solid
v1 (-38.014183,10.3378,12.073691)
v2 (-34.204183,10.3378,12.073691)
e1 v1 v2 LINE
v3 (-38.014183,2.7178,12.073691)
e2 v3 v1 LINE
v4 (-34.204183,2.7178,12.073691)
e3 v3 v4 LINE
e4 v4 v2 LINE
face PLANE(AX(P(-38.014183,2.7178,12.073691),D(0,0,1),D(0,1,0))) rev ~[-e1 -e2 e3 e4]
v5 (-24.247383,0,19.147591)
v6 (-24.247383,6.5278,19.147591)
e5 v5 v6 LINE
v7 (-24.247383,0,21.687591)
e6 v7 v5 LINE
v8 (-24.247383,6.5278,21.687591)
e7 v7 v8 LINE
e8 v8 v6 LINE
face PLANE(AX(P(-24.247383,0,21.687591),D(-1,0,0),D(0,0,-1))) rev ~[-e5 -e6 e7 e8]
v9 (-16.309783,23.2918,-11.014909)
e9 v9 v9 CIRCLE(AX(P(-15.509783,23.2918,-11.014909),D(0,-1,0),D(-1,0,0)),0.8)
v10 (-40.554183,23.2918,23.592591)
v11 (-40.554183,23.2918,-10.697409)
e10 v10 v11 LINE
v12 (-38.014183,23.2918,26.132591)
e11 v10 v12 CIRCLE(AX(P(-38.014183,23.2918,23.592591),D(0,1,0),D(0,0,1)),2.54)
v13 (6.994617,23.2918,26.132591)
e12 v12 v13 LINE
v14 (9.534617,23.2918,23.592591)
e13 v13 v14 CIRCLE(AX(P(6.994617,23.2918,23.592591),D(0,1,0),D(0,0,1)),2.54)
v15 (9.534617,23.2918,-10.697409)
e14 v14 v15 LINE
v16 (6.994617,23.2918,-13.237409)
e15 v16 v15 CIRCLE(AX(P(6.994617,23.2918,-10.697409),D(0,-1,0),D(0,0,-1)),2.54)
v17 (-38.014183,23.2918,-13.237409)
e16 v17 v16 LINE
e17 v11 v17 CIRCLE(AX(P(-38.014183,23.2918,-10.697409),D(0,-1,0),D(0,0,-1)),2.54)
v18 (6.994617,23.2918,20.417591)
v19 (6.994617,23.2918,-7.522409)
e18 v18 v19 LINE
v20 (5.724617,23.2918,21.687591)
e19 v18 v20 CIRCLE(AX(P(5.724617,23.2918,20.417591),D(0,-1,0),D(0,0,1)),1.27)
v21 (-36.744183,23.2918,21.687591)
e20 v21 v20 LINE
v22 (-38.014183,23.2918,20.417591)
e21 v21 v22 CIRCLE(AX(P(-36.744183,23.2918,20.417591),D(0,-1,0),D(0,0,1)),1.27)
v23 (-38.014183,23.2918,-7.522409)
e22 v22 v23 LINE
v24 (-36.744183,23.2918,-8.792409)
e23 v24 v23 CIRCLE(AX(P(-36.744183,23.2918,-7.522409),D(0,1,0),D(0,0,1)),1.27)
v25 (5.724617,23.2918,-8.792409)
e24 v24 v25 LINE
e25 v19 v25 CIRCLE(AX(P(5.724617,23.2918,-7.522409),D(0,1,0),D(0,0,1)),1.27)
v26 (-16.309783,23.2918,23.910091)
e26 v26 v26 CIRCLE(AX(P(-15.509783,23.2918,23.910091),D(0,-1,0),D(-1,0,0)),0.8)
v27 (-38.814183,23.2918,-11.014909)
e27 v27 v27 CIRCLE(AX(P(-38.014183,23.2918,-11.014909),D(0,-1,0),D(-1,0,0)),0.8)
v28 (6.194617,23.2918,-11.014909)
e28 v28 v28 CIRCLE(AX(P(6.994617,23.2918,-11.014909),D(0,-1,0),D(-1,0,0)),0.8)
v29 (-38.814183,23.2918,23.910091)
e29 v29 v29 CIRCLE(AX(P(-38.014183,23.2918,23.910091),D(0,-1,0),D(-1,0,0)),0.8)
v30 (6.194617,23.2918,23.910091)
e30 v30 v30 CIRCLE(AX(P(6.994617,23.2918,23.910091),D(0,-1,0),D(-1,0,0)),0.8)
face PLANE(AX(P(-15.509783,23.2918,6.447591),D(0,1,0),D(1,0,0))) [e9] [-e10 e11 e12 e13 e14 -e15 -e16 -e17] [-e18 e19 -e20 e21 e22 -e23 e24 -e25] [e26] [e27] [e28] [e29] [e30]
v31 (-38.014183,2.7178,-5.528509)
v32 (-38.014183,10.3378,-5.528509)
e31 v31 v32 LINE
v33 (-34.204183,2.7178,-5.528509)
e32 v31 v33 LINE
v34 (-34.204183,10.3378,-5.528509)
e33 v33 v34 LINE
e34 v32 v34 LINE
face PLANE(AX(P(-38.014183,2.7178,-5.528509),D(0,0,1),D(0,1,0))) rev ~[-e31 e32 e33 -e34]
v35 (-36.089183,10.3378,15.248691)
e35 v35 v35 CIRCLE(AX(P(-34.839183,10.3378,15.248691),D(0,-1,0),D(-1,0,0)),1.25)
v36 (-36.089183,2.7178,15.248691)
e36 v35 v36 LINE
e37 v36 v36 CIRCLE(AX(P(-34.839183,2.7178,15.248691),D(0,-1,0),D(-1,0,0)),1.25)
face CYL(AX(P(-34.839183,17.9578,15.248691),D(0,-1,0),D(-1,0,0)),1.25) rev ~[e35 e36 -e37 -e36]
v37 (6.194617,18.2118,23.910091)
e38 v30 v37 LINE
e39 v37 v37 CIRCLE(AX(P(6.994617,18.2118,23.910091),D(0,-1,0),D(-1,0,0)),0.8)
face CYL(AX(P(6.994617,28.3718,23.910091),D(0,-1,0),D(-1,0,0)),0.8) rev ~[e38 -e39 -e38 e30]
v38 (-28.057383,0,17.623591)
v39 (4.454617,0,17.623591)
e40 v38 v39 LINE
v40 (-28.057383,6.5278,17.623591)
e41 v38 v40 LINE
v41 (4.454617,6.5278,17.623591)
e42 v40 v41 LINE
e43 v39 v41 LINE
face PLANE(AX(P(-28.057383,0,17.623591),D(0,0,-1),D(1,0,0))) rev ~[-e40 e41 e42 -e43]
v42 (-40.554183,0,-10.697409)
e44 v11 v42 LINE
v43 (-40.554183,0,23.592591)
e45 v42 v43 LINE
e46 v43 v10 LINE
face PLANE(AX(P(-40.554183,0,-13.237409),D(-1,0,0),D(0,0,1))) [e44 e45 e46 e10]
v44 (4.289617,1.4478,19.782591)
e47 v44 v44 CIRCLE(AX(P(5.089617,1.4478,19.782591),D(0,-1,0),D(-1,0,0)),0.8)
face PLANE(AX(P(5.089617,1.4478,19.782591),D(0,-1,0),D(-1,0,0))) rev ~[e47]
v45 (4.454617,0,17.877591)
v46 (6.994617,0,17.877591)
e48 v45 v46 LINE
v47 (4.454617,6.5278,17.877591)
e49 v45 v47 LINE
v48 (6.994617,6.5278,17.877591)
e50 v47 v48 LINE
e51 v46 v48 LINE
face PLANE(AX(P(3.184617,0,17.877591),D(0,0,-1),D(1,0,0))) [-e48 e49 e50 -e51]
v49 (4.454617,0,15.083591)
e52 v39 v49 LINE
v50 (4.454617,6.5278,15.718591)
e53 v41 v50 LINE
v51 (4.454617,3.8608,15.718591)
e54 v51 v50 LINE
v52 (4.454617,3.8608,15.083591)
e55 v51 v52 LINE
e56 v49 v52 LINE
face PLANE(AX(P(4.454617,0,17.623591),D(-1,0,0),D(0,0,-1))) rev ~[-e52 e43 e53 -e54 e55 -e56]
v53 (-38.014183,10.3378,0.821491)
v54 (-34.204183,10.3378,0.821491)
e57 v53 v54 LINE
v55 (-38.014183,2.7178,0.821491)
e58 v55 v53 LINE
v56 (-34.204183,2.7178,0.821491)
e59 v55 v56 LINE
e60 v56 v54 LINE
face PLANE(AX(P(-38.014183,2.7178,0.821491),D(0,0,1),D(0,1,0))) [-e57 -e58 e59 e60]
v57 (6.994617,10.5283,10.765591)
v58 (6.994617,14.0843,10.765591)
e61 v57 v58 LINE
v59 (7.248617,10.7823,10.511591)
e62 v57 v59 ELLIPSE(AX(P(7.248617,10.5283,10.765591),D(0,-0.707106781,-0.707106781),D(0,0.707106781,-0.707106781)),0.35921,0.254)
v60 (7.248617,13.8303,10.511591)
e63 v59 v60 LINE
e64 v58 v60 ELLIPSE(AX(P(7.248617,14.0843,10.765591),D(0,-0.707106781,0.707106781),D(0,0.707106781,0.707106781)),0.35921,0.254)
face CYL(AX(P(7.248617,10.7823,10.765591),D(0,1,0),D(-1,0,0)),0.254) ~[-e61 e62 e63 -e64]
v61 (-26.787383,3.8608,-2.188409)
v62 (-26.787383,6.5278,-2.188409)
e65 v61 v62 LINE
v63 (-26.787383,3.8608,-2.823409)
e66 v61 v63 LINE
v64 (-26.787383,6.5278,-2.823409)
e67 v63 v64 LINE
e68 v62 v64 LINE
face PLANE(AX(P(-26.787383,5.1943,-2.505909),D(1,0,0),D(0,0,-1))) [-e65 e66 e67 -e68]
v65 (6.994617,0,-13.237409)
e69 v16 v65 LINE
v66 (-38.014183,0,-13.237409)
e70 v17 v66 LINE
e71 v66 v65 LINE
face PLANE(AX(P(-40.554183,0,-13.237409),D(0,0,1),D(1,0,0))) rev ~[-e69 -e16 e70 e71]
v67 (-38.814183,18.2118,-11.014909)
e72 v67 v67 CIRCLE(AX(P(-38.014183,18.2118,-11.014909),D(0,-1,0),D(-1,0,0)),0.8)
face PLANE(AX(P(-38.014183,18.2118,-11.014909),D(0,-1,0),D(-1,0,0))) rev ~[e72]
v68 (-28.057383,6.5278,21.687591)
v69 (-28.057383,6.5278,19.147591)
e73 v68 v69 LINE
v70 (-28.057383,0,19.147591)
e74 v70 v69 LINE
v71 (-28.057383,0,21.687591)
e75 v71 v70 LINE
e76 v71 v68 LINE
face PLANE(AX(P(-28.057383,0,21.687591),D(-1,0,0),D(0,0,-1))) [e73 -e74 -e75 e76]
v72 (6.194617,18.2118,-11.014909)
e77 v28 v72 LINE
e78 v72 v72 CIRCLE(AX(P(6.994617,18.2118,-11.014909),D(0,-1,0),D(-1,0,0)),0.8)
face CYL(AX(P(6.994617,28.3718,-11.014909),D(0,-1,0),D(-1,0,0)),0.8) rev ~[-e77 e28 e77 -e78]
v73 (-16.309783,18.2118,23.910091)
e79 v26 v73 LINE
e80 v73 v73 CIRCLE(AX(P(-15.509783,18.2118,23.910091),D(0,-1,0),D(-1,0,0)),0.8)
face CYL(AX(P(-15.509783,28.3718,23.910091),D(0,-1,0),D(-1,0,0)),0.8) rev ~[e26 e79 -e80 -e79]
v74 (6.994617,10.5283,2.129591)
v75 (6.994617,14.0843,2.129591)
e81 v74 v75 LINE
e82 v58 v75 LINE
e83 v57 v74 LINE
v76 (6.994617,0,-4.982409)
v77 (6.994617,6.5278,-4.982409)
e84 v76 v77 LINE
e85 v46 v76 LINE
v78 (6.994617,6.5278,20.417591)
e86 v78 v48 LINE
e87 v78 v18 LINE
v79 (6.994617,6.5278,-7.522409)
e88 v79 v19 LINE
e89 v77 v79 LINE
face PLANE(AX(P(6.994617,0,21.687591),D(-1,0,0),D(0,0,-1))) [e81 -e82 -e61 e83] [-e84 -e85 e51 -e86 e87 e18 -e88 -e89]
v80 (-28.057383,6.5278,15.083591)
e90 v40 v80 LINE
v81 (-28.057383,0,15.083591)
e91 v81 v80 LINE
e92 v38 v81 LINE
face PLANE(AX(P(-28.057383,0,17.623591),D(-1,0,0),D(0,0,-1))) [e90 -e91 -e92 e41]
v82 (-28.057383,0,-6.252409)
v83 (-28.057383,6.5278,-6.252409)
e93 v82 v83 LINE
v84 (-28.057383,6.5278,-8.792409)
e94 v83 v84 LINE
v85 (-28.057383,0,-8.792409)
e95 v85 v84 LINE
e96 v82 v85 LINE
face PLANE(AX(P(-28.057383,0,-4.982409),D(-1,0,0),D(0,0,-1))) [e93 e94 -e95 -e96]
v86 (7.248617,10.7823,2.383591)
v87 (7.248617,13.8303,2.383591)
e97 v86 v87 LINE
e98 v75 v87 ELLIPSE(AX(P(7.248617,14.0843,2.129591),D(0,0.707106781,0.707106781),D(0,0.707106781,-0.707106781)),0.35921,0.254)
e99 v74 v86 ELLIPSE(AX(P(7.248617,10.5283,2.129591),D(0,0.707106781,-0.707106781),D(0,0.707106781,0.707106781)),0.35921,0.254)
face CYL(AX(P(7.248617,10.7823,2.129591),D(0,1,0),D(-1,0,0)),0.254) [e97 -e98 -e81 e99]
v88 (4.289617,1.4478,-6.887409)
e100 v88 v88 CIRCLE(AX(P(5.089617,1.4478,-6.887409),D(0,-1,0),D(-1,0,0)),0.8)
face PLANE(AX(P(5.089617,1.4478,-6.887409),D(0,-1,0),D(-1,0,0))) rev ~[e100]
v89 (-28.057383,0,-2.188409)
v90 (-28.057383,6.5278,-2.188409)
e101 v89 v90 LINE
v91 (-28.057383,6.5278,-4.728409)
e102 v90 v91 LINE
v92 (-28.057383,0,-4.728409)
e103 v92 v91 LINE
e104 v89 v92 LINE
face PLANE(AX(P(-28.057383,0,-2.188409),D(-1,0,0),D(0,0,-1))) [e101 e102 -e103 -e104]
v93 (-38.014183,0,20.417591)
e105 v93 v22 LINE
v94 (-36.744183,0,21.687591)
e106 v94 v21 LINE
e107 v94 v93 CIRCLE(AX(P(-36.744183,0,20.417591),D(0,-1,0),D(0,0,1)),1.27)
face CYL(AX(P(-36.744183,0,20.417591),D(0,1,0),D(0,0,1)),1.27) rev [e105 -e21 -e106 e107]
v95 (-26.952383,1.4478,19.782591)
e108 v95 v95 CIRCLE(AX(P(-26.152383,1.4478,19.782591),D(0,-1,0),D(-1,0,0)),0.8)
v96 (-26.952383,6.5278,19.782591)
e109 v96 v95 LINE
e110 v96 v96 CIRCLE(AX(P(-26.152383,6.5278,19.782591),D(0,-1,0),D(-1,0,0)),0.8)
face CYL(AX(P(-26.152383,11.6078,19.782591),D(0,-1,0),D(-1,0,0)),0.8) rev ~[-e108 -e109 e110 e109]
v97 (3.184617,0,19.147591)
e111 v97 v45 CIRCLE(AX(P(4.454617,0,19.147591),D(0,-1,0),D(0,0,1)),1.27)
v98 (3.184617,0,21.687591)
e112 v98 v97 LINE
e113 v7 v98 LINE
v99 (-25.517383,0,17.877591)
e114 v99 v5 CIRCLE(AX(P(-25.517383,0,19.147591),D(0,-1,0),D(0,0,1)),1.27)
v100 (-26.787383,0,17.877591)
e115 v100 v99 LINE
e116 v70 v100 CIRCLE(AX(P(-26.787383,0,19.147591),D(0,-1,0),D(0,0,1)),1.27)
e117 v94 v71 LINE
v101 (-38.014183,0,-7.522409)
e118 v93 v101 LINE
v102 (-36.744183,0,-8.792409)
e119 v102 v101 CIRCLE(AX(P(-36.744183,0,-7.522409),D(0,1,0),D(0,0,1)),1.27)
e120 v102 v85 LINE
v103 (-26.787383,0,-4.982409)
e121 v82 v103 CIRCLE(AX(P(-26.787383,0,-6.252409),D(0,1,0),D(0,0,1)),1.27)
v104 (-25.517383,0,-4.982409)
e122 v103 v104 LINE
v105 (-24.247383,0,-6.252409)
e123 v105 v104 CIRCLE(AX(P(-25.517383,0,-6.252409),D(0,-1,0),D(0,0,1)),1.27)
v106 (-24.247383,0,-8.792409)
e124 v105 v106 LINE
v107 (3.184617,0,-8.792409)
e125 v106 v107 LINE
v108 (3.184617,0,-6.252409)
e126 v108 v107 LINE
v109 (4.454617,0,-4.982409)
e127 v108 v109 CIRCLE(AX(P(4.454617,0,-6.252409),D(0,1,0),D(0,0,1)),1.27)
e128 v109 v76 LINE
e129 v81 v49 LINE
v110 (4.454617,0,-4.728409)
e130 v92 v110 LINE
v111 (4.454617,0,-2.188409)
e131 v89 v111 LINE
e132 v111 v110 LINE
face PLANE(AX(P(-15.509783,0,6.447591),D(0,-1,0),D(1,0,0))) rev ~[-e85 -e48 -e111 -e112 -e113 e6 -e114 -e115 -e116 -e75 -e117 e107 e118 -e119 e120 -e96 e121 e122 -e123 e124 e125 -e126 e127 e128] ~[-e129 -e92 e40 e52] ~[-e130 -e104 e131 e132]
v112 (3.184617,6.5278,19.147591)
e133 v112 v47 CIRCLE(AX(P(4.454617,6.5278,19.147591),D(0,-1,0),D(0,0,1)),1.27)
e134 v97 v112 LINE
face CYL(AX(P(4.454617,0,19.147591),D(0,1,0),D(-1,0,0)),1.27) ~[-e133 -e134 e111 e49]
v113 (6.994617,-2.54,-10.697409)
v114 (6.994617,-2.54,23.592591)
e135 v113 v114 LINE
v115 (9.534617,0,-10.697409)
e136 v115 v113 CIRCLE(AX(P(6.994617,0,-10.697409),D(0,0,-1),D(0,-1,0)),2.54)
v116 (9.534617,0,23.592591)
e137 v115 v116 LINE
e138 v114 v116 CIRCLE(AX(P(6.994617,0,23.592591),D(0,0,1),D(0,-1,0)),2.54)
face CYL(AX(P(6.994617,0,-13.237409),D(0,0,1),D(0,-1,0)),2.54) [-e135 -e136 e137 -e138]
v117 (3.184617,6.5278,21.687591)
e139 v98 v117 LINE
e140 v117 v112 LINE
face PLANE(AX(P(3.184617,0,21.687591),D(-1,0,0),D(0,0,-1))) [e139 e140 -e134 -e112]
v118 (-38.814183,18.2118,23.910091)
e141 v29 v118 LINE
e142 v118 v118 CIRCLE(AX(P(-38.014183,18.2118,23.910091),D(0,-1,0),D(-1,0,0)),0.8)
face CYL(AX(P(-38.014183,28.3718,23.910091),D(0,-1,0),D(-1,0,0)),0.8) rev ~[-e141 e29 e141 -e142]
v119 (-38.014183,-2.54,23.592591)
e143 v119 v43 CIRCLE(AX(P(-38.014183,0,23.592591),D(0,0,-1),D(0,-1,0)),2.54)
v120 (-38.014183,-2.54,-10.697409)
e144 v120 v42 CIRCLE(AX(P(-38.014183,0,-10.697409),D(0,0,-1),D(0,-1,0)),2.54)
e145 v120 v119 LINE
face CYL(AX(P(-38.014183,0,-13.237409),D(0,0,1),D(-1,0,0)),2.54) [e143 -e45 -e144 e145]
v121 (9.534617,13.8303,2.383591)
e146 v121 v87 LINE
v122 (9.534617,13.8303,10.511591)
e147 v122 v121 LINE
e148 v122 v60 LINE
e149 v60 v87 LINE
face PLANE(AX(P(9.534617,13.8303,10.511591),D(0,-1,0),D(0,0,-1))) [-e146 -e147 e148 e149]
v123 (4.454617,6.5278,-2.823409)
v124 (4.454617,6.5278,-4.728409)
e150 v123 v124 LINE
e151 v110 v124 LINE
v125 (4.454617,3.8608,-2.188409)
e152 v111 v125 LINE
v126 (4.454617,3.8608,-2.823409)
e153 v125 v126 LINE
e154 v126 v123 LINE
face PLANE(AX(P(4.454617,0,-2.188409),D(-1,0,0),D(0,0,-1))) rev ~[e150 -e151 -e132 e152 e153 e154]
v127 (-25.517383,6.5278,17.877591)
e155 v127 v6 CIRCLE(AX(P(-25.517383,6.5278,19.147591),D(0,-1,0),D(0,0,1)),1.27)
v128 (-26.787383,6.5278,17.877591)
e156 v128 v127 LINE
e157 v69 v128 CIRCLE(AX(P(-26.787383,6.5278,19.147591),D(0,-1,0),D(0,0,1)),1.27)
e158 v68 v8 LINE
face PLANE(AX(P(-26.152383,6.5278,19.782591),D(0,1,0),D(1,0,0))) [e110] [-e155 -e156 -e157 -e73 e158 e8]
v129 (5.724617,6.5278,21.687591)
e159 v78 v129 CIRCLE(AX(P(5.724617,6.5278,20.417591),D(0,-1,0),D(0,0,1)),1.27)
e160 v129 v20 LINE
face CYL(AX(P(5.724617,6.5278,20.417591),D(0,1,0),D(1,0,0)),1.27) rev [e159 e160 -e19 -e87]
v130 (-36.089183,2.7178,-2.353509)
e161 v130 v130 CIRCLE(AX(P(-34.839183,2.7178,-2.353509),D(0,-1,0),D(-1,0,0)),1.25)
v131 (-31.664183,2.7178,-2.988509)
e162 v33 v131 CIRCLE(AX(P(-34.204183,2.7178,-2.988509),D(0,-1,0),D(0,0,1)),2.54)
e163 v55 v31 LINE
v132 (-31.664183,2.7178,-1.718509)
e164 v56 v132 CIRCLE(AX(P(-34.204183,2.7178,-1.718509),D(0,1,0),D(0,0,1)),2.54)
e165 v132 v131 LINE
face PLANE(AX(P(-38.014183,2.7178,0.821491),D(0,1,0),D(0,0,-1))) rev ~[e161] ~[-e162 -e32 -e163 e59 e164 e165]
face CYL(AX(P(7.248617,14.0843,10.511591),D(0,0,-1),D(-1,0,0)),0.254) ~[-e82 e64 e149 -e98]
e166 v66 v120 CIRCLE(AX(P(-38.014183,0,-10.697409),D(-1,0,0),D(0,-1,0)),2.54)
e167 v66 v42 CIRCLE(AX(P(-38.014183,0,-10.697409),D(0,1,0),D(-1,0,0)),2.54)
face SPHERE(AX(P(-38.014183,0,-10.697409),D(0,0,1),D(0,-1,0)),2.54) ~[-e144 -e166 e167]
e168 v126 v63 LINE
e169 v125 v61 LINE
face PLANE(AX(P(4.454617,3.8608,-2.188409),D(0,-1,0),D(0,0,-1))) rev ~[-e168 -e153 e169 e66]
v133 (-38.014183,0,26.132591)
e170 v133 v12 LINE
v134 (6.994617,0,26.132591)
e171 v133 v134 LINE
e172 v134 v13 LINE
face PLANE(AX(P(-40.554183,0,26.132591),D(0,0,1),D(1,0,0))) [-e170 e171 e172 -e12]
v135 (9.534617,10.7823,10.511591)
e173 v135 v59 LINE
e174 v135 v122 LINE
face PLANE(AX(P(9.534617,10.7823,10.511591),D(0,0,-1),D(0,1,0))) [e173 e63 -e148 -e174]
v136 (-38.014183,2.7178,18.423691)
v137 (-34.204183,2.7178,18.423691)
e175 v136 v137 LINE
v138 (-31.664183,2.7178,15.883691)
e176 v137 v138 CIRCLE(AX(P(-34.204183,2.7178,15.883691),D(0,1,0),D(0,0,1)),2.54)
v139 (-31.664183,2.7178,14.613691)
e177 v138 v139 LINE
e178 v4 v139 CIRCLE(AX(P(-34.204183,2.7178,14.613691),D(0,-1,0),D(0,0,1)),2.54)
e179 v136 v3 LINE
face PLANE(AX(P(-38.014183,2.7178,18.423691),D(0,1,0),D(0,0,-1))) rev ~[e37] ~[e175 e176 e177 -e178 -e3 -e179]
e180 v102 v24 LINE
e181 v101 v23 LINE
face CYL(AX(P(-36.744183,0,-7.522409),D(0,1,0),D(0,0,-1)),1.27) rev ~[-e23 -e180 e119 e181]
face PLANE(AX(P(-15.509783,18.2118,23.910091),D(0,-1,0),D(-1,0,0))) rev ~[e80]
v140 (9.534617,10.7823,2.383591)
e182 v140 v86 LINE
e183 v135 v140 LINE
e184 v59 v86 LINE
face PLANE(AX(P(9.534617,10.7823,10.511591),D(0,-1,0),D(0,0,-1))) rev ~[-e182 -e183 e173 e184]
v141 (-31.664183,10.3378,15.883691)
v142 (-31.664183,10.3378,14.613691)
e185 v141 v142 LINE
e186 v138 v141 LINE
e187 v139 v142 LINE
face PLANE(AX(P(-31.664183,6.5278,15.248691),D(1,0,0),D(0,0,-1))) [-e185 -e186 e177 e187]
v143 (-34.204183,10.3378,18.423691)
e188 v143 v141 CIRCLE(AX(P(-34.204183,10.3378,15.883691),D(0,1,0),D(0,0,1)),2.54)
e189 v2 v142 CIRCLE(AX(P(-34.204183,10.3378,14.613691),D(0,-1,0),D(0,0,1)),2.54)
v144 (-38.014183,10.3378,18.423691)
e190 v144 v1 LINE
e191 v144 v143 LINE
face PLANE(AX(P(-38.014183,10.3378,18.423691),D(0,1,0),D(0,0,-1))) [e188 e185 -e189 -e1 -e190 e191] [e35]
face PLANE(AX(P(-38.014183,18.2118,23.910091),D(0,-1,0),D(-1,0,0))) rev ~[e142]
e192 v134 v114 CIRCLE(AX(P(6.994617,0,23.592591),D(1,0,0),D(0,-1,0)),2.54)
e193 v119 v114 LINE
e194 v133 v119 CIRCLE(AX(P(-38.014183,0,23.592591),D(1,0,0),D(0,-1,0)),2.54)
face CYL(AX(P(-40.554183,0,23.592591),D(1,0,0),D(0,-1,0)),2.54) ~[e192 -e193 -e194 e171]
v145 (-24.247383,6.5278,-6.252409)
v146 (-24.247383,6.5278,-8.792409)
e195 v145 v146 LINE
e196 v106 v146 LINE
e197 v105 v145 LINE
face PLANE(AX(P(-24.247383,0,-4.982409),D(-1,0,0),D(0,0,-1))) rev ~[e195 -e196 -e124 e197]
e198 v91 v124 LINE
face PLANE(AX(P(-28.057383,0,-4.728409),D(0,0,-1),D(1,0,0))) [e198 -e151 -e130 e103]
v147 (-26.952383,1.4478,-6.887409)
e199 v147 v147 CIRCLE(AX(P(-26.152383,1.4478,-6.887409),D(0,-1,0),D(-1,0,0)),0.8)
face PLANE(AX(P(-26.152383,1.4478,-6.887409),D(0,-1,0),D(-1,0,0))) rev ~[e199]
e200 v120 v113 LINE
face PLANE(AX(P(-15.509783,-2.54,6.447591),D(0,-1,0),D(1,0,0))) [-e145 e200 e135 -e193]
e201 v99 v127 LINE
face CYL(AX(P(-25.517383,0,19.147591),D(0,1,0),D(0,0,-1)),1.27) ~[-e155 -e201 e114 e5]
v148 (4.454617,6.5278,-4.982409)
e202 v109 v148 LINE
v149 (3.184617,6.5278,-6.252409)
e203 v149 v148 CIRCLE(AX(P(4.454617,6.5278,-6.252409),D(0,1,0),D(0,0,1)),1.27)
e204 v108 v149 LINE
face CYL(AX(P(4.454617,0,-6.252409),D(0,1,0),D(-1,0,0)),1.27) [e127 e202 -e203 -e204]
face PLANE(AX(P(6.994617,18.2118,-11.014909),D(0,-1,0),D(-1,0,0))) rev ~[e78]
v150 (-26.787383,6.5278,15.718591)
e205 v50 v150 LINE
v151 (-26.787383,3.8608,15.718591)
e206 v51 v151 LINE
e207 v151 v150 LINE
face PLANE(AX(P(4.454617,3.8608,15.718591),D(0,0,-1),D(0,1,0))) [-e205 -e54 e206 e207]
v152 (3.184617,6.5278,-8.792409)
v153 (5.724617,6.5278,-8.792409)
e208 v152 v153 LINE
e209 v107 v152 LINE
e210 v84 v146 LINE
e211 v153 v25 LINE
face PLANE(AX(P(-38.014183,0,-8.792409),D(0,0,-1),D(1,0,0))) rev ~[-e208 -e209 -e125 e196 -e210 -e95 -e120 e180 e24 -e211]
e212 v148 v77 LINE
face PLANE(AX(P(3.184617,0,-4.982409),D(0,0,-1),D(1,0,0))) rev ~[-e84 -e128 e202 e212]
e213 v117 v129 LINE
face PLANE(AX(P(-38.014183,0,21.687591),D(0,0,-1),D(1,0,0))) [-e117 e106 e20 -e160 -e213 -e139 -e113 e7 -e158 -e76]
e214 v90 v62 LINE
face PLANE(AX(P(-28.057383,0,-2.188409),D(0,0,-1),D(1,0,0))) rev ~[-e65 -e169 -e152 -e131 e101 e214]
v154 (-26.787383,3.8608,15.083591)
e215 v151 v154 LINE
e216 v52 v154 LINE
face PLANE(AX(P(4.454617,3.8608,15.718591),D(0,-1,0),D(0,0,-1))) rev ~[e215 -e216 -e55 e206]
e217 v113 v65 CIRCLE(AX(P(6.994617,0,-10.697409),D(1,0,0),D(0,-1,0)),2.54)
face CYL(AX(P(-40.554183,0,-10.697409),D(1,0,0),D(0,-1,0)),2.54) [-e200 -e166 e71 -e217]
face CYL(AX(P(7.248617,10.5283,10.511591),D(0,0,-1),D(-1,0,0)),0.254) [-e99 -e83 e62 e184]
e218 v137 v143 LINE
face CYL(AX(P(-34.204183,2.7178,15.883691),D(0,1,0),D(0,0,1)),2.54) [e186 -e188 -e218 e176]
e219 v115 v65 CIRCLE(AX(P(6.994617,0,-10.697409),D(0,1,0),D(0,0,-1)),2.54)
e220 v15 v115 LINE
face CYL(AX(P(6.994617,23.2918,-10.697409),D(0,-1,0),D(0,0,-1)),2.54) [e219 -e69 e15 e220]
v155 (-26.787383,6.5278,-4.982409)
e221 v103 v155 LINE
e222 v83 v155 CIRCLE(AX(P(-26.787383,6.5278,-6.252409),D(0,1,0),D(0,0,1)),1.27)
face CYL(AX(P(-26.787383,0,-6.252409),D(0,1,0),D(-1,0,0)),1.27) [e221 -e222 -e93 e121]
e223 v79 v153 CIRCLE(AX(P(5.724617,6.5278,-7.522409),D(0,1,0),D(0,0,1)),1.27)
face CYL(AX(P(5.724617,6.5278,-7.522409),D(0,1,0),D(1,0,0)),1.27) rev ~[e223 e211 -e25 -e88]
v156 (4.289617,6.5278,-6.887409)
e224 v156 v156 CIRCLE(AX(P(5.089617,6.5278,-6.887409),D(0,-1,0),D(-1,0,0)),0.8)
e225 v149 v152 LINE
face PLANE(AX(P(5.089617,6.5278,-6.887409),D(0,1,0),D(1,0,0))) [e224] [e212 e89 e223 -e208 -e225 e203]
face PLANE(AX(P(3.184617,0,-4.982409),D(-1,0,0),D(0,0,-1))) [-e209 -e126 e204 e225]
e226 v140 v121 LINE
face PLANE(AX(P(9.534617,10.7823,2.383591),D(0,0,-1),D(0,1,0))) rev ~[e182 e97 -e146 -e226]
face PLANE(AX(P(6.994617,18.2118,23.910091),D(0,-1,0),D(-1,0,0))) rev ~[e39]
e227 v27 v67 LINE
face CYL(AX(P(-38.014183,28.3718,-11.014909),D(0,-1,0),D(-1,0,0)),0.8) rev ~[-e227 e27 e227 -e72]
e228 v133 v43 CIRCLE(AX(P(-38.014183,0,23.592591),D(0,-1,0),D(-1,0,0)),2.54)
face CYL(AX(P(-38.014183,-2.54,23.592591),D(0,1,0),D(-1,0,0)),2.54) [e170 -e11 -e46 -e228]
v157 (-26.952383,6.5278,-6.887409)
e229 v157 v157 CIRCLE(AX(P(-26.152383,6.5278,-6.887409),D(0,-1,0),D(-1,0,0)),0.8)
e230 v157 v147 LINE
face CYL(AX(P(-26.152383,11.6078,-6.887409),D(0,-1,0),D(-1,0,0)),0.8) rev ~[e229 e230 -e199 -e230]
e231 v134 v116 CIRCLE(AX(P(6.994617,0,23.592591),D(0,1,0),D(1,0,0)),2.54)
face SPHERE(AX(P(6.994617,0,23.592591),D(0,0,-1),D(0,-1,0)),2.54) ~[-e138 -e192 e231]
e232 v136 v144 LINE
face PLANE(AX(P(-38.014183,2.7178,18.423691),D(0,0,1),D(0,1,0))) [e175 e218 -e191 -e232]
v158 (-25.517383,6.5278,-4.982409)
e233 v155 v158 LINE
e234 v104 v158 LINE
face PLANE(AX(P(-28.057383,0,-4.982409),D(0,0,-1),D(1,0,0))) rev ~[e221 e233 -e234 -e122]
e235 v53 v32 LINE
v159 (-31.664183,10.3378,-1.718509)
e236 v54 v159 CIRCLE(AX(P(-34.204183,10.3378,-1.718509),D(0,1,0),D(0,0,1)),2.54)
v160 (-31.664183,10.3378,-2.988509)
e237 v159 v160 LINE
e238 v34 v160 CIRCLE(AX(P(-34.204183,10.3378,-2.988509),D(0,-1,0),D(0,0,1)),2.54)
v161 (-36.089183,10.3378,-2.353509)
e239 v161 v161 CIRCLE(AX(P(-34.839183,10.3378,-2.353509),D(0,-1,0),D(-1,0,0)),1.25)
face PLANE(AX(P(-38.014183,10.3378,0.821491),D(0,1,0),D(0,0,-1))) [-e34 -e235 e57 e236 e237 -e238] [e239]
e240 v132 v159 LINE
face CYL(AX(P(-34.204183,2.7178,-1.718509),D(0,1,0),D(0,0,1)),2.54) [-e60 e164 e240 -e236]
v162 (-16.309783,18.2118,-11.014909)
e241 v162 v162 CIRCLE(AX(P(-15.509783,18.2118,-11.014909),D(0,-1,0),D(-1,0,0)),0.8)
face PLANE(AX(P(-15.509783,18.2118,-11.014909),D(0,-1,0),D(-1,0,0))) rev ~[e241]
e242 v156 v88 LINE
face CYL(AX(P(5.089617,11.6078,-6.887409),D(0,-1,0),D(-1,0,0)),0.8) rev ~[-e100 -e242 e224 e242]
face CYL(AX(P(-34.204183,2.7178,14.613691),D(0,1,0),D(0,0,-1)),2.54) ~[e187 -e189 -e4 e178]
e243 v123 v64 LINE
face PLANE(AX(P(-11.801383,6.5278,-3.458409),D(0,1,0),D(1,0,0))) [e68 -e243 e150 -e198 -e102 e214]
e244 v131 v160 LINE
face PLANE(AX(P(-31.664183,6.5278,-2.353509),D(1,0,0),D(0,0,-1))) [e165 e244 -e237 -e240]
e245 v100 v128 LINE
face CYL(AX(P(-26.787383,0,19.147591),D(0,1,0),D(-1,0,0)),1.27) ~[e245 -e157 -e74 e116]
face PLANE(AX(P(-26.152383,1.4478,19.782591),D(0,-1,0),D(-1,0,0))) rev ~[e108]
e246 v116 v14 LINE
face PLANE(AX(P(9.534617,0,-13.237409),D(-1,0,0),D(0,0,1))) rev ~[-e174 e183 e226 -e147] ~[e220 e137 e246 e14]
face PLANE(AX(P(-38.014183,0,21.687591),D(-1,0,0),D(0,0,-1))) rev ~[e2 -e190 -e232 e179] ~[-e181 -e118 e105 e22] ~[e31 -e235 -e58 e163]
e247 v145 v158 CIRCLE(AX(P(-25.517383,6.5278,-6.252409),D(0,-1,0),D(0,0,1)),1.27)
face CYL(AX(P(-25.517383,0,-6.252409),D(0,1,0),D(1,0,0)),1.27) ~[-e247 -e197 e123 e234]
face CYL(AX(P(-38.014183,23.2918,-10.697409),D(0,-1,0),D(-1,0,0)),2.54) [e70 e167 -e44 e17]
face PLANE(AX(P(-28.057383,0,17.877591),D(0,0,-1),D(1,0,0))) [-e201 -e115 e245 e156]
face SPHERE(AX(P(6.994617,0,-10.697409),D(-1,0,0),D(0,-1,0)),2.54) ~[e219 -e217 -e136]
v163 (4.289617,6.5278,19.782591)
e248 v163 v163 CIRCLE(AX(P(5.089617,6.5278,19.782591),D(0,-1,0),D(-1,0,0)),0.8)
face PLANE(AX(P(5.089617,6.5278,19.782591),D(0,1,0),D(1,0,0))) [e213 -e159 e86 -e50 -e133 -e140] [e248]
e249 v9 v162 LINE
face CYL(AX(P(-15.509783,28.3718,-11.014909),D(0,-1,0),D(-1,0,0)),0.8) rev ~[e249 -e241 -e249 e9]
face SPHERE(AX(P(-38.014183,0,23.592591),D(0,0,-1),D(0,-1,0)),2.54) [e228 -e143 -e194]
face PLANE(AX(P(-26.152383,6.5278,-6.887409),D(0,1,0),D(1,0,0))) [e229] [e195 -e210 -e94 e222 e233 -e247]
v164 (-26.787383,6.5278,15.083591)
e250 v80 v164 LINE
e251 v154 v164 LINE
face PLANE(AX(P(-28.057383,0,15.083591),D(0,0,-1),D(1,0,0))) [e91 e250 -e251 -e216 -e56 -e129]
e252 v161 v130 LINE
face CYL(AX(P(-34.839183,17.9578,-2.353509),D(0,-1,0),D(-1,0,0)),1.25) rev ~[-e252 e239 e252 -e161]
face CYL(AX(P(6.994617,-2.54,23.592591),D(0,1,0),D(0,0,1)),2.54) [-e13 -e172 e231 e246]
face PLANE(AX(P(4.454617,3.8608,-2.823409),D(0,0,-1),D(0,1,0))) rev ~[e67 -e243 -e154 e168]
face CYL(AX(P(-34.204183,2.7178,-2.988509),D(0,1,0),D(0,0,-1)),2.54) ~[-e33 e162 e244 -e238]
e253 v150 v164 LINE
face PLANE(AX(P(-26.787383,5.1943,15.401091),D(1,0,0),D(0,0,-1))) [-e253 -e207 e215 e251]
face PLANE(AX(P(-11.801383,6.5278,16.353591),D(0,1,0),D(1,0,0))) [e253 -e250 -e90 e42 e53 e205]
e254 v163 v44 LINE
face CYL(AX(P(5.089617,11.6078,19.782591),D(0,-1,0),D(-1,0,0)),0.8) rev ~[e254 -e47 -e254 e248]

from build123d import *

# Parameters (mm, degrees)
SKETCH1_W                      = 50.0888
SKETCH1_H                      = 39.37
SKETCH1_W_2                    = 45.0088
SKETCH1_H_2                    = 30.48
BOSS_EXTRUDE1_DEPTH            = 23.2918
SKETCH2_W                      = 50.0888
SKETCH2_H                      = 39.37
BOSS_EXTRUDE2_DEPTH            = 2.54
SKETCH3_W                      = 32.512
SKETCH3_H                      = 2.54
BOSS_EXTRUDE3_DEPTH            = 6.5278
F_1_6_1_6_DIAMETER_HOLE1_D     = 1.6
F_1_6_1_6_DIAMETER_HOLE1_DEPTH = 5.08
FILLET1_R                      = 2.54
SKETCH12_W                     = 6.35
SKETCH12_H                     = 7.62
BOSS_EXTRUDE5_DEPTH            = 6.35
F_2_5_2_5_DIAMETER_HOLE2_D     = 2.5
F_2_5_2_5_DIAMETER_HOLE2_DEPTH = 7.62
FILLET2_R                      = 2.54
SKETCH17_W                     = 0.635
SKETCH17_H                     = 2.667
CUT_EXTRUDE3_DEPTH             = 31.242
SKETCH18_W                     = 0.635
SKETCH18_H                     = 2.667
CUT_EXTRUDE5_DEPTH             = 31.242
SKETCH15_W                     = 3.81
SKETCH15_H                     = 3.81
BOSS_EXTRUDE6_DEPTH            = 6.5278
FILLET3_R                      = 1.27
F_1_6_1_6_DIAMETER_HOLE2_D     = 1.6
F_1_6_1_6_DIAMETER_HOLE2_DEPTH = 5.08
CUT_EXTRUDE6_REACH             = 63.109
SKETCH23_W                     = 8.128
SKETCH23_H                     = 3.048
FILLET4_R                      = 0.254
FILLET5_R                      = 1.27


with BuildPart() as part:
    # Sketch1 → Boss-Extrude1 (new body)
    with BuildSketch(Plane(origin=(0, 0, 0), x_dir=(1, 0, 0), z_dir=(0, 1, 0))):
        with Locations((-15.50978333, -6.447590566)):
            Rectangle(SKETCH1_W, SKETCH1_H)
        with Locations((-15.50978333, -6.447590566)):
            Rectangle(SKETCH1_W_2, SKETCH1_H_2, mode=Mode.SUBTRACT)
    extrude(amount=BOSS_EXTRUDE1_DEPTH)

    # Sketch2 → Boss-Extrude2 (add)
    with BuildSketch(Plane.XZ):
        with Locations((-15.50978333, 6.447590566)):
            Rectangle(SKETCH2_W, SKETCH2_H)
    extrude(amount=BOSS_EXTRUDE2_DEPTH)

    # Sketch3 → Boss-Extrude3 (add)
    with BuildSketch(Plane(origin=(0, 0, 0), x_dir=(1, 0, 0), z_dir=(0, 1, 0))):
        with Locations((-11.80138333, 3.458409434)):
            Rectangle(SKETCH3_W, SKETCH3_H)
        with Locations((-11.80138333, -16.353590566)):
            Rectangle(SKETCH3_W, SKETCH3_H)
    extrude(amount=BOSS_EXTRUDE3_DEPTH)

    # Ø1.6 (1.6) Diameter Hole1
    with Locations(Plane(origin=(0, 23.2918, 0), x_dir=(1, 0, 0), z_dir=(0, 1, 0))):
        with Locations((-38.01418333, -23.910090566), (6.99461667, -23.910090566), (6.99461667, 11.014909434), (-38.01418333, 11.014909434), (-15.50978333, 11.014909434), (-15.50978333, -23.910090566)):
            Hole(F_1_6_1_6_DIAMETER_HOLE1_D / 2, depth=F_1_6_1_6_DIAMETER_HOLE1_DEPTH)

    # Fillet1
    fillet1_edges = [part.edges().sort_by_distance(p)[0] for p in [
        (-40.55418333, -2.54, 6.447590566),
        (-15.50978333, -2.54, -13.237409434),
        (9.53461667, -2.54, 6.447590566),
        (-15.50978333, -2.54, 26.132590566),
        (-40.55418333, 10.3759, -13.237409434),
        (9.53461667, 10.3759, -13.237409434),
        (9.53461667, 10.3759, 26.132590566),
        (-40.55418333, 10.3759, 26.132590566),
    ]]
    fillet(fillet1_edges, radius=FILLET1_R)

    # Sketch12 → Boss-Extrude5 (add)
    with BuildSketch(Plane(origin=(-38.01418333, 0, 0), x_dir=(0, 0, -1), z_dir=(1, 0, 0))):
        with Locations((-15.248690566, 6.5278)):
            Rectangle(SKETCH12_W, SKETCH12_H)
        with Locations((2.353509434, 6.5278)):
            Rectangle(SKETCH12_W, SKETCH12_H)
    extrude(amount=BOSS_EXTRUDE5_DEPTH)

    # Ø2.5 (2.5) Diameter Hole2
    with Locations(Plane(origin=(0, 10.3378, 0), x_dir=(1, 0, 0), z_dir=(0, 1, 0))):
        with Locations((-34.83918333, -15.248690566), (-34.83918333, 2.353509434)):
            Hole(F_2_5_2_5_DIAMETER_HOLE2_D / 2, depth=F_2_5_2_5_DIAMETER_HOLE2_DEPTH)

    # Fillet2
    fillet2_edges = [part.edges().sort_by_distance(p)[0] for p in [
        (-31.66418333, 6.5278, 18.423690566),
        (-31.66418333, 6.5278, 12.073690566),
        (-31.66418333, 6.5278, 0.821490566),
        (-31.66418333, 6.5278, -5.528509434),
    ]]
    fillet(fillet2_edges, radius=FILLET2_R)

    # Sketch17 → Cut-Extrude3 (cut)
    with BuildSketch(Plane(origin=(4.45461667, 0, 0), x_dir=(0, 0, -1), z_dir=(1, 0, 0))):
        with Locations((2.505909434, 5.1943)):
            Rectangle(SKETCH17_W, SKETCH17_H)
    extrude(amount=-CUT_EXTRUDE3_DEPTH, mode=Mode.SUBTRACT)

    # Sketch18 → Cut-Extrude5 (cut)
    with BuildSketch(Plane(origin=(4.45461667, 0, 0), x_dir=(0, 0, -1), z_dir=(1, 0, 0))):
        with Locations((-15.401090566, 5.1943)):
            Rectangle(SKETCH18_W, SKETCH18_H)
    extrude(amount=-CUT_EXTRUDE5_DEPTH, mode=Mode.SUBTRACT)

    # Sketch15 → Boss-Extrude6 (add)
    with BuildSketch(Plane(origin=(0, 0, 0), x_dir=(1, 0, 0), z_dir=(0, 1, 0))):
        with Locations((5.08961667, 6.887409434)):
            Rectangle(SKETCH15_W, SKETCH15_H)
        with Locations((-26.15238333, 6.887409434)):
            Rectangle(SKETCH15_W, SKETCH15_H)
        with Locations((-26.15238333, -19.782590566)):
            Rectangle(SKETCH15_W, SKETCH15_H)
        with Locations((5.08961667, -19.782590566)):
            Rectangle(SKETCH15_W, SKETCH15_H)
    extrude(amount=BOSS_EXTRUDE6_DEPTH)

    # Fillet3
    fillet3_edges = [part.edges().sort_by_distance(p)[0] for p in [
        (3.18461667, 3.2639, -4.982409434),
        (-28.05738333, 3.2639, -4.982409434),
        (-24.24738333, 3.2639, -4.982409434),
        (-28.05738333, 3.2639, 17.877590566),
        (-24.24738333, 3.2639, 17.877590566),
        (3.18461667, 3.2639, 17.877590566),
    ]]
    fillet(fillet3_edges, radius=FILLET3_R)

    # Ø1.6 (1.6) Diameter Hole2
    with Locations(Plane(origin=(0, 6.5278, 0), x_dir=(1, 0, 0), z_dir=(0, 1, 0))):
        with Locations((-26.15238333, -19.782590566), (-26.15238333, 6.887409434), (5.08961667, 6.887409434), (5.08961667, -19.782590566)):
            Hole(F_1_6_1_6_DIAMETER_HOLE2_D / 2, depth=F_1_6_1_6_DIAMETER_HOLE2_DEPTH)

    # Sketch23 → Cut-Extrude6 (cut, up to next)
    with BuildSketch(Plane(origin=(9.53461667, 0, 0), x_dir=(0, 0, -1), z_dir=(1, 0, 0)), mode=Mode.PRIVATE) as cut_extrude6_sk1:
        with Locations((-6.447590566, 12.3063)):
            Rectangle(SKETCH23_W, SKETCH23_H)
    cut_extrude6_tool1 = extrude(cut_extrude6_sk1.sketch, amount=-CUT_EXTRUDE6_REACH, mode=Mode.PRIVATE) & part.part
    add(cut_extrude6_tool1.solids().sort_by_distance((9.534617, 12.3063, 6.447591))[0], mode=Mode.SUBTRACT)

    # Fillet4
    fillet4_edges = [part.edges().sort_by_distance(p)[0] for p in [
        (6.99461667, 12.3063, 10.511590566),
        (6.99461667, 13.8303, 6.447590566),
        (6.99461667, 12.3063, 2.383590566),
        (6.99461667, 10.7823, 6.447590566),
    ]]
    fillet(fillet4_edges, radius=FILLET4_R)

    # Fillet5
    fillet5_edges = [part.edges().sort_by_distance(p)[0] for p in [
        (-38.01418333, 11.6459, -8.792409434),
        (-38.01418333, 11.6459, 21.687590566),
        (6.99461667, 14.9098, 21.687590566),
        (6.99461667, 14.9098, -8.792409434),
    ]]
    fillet(fillet5_edges, radius=FILLET5_R)


solid = part.part
